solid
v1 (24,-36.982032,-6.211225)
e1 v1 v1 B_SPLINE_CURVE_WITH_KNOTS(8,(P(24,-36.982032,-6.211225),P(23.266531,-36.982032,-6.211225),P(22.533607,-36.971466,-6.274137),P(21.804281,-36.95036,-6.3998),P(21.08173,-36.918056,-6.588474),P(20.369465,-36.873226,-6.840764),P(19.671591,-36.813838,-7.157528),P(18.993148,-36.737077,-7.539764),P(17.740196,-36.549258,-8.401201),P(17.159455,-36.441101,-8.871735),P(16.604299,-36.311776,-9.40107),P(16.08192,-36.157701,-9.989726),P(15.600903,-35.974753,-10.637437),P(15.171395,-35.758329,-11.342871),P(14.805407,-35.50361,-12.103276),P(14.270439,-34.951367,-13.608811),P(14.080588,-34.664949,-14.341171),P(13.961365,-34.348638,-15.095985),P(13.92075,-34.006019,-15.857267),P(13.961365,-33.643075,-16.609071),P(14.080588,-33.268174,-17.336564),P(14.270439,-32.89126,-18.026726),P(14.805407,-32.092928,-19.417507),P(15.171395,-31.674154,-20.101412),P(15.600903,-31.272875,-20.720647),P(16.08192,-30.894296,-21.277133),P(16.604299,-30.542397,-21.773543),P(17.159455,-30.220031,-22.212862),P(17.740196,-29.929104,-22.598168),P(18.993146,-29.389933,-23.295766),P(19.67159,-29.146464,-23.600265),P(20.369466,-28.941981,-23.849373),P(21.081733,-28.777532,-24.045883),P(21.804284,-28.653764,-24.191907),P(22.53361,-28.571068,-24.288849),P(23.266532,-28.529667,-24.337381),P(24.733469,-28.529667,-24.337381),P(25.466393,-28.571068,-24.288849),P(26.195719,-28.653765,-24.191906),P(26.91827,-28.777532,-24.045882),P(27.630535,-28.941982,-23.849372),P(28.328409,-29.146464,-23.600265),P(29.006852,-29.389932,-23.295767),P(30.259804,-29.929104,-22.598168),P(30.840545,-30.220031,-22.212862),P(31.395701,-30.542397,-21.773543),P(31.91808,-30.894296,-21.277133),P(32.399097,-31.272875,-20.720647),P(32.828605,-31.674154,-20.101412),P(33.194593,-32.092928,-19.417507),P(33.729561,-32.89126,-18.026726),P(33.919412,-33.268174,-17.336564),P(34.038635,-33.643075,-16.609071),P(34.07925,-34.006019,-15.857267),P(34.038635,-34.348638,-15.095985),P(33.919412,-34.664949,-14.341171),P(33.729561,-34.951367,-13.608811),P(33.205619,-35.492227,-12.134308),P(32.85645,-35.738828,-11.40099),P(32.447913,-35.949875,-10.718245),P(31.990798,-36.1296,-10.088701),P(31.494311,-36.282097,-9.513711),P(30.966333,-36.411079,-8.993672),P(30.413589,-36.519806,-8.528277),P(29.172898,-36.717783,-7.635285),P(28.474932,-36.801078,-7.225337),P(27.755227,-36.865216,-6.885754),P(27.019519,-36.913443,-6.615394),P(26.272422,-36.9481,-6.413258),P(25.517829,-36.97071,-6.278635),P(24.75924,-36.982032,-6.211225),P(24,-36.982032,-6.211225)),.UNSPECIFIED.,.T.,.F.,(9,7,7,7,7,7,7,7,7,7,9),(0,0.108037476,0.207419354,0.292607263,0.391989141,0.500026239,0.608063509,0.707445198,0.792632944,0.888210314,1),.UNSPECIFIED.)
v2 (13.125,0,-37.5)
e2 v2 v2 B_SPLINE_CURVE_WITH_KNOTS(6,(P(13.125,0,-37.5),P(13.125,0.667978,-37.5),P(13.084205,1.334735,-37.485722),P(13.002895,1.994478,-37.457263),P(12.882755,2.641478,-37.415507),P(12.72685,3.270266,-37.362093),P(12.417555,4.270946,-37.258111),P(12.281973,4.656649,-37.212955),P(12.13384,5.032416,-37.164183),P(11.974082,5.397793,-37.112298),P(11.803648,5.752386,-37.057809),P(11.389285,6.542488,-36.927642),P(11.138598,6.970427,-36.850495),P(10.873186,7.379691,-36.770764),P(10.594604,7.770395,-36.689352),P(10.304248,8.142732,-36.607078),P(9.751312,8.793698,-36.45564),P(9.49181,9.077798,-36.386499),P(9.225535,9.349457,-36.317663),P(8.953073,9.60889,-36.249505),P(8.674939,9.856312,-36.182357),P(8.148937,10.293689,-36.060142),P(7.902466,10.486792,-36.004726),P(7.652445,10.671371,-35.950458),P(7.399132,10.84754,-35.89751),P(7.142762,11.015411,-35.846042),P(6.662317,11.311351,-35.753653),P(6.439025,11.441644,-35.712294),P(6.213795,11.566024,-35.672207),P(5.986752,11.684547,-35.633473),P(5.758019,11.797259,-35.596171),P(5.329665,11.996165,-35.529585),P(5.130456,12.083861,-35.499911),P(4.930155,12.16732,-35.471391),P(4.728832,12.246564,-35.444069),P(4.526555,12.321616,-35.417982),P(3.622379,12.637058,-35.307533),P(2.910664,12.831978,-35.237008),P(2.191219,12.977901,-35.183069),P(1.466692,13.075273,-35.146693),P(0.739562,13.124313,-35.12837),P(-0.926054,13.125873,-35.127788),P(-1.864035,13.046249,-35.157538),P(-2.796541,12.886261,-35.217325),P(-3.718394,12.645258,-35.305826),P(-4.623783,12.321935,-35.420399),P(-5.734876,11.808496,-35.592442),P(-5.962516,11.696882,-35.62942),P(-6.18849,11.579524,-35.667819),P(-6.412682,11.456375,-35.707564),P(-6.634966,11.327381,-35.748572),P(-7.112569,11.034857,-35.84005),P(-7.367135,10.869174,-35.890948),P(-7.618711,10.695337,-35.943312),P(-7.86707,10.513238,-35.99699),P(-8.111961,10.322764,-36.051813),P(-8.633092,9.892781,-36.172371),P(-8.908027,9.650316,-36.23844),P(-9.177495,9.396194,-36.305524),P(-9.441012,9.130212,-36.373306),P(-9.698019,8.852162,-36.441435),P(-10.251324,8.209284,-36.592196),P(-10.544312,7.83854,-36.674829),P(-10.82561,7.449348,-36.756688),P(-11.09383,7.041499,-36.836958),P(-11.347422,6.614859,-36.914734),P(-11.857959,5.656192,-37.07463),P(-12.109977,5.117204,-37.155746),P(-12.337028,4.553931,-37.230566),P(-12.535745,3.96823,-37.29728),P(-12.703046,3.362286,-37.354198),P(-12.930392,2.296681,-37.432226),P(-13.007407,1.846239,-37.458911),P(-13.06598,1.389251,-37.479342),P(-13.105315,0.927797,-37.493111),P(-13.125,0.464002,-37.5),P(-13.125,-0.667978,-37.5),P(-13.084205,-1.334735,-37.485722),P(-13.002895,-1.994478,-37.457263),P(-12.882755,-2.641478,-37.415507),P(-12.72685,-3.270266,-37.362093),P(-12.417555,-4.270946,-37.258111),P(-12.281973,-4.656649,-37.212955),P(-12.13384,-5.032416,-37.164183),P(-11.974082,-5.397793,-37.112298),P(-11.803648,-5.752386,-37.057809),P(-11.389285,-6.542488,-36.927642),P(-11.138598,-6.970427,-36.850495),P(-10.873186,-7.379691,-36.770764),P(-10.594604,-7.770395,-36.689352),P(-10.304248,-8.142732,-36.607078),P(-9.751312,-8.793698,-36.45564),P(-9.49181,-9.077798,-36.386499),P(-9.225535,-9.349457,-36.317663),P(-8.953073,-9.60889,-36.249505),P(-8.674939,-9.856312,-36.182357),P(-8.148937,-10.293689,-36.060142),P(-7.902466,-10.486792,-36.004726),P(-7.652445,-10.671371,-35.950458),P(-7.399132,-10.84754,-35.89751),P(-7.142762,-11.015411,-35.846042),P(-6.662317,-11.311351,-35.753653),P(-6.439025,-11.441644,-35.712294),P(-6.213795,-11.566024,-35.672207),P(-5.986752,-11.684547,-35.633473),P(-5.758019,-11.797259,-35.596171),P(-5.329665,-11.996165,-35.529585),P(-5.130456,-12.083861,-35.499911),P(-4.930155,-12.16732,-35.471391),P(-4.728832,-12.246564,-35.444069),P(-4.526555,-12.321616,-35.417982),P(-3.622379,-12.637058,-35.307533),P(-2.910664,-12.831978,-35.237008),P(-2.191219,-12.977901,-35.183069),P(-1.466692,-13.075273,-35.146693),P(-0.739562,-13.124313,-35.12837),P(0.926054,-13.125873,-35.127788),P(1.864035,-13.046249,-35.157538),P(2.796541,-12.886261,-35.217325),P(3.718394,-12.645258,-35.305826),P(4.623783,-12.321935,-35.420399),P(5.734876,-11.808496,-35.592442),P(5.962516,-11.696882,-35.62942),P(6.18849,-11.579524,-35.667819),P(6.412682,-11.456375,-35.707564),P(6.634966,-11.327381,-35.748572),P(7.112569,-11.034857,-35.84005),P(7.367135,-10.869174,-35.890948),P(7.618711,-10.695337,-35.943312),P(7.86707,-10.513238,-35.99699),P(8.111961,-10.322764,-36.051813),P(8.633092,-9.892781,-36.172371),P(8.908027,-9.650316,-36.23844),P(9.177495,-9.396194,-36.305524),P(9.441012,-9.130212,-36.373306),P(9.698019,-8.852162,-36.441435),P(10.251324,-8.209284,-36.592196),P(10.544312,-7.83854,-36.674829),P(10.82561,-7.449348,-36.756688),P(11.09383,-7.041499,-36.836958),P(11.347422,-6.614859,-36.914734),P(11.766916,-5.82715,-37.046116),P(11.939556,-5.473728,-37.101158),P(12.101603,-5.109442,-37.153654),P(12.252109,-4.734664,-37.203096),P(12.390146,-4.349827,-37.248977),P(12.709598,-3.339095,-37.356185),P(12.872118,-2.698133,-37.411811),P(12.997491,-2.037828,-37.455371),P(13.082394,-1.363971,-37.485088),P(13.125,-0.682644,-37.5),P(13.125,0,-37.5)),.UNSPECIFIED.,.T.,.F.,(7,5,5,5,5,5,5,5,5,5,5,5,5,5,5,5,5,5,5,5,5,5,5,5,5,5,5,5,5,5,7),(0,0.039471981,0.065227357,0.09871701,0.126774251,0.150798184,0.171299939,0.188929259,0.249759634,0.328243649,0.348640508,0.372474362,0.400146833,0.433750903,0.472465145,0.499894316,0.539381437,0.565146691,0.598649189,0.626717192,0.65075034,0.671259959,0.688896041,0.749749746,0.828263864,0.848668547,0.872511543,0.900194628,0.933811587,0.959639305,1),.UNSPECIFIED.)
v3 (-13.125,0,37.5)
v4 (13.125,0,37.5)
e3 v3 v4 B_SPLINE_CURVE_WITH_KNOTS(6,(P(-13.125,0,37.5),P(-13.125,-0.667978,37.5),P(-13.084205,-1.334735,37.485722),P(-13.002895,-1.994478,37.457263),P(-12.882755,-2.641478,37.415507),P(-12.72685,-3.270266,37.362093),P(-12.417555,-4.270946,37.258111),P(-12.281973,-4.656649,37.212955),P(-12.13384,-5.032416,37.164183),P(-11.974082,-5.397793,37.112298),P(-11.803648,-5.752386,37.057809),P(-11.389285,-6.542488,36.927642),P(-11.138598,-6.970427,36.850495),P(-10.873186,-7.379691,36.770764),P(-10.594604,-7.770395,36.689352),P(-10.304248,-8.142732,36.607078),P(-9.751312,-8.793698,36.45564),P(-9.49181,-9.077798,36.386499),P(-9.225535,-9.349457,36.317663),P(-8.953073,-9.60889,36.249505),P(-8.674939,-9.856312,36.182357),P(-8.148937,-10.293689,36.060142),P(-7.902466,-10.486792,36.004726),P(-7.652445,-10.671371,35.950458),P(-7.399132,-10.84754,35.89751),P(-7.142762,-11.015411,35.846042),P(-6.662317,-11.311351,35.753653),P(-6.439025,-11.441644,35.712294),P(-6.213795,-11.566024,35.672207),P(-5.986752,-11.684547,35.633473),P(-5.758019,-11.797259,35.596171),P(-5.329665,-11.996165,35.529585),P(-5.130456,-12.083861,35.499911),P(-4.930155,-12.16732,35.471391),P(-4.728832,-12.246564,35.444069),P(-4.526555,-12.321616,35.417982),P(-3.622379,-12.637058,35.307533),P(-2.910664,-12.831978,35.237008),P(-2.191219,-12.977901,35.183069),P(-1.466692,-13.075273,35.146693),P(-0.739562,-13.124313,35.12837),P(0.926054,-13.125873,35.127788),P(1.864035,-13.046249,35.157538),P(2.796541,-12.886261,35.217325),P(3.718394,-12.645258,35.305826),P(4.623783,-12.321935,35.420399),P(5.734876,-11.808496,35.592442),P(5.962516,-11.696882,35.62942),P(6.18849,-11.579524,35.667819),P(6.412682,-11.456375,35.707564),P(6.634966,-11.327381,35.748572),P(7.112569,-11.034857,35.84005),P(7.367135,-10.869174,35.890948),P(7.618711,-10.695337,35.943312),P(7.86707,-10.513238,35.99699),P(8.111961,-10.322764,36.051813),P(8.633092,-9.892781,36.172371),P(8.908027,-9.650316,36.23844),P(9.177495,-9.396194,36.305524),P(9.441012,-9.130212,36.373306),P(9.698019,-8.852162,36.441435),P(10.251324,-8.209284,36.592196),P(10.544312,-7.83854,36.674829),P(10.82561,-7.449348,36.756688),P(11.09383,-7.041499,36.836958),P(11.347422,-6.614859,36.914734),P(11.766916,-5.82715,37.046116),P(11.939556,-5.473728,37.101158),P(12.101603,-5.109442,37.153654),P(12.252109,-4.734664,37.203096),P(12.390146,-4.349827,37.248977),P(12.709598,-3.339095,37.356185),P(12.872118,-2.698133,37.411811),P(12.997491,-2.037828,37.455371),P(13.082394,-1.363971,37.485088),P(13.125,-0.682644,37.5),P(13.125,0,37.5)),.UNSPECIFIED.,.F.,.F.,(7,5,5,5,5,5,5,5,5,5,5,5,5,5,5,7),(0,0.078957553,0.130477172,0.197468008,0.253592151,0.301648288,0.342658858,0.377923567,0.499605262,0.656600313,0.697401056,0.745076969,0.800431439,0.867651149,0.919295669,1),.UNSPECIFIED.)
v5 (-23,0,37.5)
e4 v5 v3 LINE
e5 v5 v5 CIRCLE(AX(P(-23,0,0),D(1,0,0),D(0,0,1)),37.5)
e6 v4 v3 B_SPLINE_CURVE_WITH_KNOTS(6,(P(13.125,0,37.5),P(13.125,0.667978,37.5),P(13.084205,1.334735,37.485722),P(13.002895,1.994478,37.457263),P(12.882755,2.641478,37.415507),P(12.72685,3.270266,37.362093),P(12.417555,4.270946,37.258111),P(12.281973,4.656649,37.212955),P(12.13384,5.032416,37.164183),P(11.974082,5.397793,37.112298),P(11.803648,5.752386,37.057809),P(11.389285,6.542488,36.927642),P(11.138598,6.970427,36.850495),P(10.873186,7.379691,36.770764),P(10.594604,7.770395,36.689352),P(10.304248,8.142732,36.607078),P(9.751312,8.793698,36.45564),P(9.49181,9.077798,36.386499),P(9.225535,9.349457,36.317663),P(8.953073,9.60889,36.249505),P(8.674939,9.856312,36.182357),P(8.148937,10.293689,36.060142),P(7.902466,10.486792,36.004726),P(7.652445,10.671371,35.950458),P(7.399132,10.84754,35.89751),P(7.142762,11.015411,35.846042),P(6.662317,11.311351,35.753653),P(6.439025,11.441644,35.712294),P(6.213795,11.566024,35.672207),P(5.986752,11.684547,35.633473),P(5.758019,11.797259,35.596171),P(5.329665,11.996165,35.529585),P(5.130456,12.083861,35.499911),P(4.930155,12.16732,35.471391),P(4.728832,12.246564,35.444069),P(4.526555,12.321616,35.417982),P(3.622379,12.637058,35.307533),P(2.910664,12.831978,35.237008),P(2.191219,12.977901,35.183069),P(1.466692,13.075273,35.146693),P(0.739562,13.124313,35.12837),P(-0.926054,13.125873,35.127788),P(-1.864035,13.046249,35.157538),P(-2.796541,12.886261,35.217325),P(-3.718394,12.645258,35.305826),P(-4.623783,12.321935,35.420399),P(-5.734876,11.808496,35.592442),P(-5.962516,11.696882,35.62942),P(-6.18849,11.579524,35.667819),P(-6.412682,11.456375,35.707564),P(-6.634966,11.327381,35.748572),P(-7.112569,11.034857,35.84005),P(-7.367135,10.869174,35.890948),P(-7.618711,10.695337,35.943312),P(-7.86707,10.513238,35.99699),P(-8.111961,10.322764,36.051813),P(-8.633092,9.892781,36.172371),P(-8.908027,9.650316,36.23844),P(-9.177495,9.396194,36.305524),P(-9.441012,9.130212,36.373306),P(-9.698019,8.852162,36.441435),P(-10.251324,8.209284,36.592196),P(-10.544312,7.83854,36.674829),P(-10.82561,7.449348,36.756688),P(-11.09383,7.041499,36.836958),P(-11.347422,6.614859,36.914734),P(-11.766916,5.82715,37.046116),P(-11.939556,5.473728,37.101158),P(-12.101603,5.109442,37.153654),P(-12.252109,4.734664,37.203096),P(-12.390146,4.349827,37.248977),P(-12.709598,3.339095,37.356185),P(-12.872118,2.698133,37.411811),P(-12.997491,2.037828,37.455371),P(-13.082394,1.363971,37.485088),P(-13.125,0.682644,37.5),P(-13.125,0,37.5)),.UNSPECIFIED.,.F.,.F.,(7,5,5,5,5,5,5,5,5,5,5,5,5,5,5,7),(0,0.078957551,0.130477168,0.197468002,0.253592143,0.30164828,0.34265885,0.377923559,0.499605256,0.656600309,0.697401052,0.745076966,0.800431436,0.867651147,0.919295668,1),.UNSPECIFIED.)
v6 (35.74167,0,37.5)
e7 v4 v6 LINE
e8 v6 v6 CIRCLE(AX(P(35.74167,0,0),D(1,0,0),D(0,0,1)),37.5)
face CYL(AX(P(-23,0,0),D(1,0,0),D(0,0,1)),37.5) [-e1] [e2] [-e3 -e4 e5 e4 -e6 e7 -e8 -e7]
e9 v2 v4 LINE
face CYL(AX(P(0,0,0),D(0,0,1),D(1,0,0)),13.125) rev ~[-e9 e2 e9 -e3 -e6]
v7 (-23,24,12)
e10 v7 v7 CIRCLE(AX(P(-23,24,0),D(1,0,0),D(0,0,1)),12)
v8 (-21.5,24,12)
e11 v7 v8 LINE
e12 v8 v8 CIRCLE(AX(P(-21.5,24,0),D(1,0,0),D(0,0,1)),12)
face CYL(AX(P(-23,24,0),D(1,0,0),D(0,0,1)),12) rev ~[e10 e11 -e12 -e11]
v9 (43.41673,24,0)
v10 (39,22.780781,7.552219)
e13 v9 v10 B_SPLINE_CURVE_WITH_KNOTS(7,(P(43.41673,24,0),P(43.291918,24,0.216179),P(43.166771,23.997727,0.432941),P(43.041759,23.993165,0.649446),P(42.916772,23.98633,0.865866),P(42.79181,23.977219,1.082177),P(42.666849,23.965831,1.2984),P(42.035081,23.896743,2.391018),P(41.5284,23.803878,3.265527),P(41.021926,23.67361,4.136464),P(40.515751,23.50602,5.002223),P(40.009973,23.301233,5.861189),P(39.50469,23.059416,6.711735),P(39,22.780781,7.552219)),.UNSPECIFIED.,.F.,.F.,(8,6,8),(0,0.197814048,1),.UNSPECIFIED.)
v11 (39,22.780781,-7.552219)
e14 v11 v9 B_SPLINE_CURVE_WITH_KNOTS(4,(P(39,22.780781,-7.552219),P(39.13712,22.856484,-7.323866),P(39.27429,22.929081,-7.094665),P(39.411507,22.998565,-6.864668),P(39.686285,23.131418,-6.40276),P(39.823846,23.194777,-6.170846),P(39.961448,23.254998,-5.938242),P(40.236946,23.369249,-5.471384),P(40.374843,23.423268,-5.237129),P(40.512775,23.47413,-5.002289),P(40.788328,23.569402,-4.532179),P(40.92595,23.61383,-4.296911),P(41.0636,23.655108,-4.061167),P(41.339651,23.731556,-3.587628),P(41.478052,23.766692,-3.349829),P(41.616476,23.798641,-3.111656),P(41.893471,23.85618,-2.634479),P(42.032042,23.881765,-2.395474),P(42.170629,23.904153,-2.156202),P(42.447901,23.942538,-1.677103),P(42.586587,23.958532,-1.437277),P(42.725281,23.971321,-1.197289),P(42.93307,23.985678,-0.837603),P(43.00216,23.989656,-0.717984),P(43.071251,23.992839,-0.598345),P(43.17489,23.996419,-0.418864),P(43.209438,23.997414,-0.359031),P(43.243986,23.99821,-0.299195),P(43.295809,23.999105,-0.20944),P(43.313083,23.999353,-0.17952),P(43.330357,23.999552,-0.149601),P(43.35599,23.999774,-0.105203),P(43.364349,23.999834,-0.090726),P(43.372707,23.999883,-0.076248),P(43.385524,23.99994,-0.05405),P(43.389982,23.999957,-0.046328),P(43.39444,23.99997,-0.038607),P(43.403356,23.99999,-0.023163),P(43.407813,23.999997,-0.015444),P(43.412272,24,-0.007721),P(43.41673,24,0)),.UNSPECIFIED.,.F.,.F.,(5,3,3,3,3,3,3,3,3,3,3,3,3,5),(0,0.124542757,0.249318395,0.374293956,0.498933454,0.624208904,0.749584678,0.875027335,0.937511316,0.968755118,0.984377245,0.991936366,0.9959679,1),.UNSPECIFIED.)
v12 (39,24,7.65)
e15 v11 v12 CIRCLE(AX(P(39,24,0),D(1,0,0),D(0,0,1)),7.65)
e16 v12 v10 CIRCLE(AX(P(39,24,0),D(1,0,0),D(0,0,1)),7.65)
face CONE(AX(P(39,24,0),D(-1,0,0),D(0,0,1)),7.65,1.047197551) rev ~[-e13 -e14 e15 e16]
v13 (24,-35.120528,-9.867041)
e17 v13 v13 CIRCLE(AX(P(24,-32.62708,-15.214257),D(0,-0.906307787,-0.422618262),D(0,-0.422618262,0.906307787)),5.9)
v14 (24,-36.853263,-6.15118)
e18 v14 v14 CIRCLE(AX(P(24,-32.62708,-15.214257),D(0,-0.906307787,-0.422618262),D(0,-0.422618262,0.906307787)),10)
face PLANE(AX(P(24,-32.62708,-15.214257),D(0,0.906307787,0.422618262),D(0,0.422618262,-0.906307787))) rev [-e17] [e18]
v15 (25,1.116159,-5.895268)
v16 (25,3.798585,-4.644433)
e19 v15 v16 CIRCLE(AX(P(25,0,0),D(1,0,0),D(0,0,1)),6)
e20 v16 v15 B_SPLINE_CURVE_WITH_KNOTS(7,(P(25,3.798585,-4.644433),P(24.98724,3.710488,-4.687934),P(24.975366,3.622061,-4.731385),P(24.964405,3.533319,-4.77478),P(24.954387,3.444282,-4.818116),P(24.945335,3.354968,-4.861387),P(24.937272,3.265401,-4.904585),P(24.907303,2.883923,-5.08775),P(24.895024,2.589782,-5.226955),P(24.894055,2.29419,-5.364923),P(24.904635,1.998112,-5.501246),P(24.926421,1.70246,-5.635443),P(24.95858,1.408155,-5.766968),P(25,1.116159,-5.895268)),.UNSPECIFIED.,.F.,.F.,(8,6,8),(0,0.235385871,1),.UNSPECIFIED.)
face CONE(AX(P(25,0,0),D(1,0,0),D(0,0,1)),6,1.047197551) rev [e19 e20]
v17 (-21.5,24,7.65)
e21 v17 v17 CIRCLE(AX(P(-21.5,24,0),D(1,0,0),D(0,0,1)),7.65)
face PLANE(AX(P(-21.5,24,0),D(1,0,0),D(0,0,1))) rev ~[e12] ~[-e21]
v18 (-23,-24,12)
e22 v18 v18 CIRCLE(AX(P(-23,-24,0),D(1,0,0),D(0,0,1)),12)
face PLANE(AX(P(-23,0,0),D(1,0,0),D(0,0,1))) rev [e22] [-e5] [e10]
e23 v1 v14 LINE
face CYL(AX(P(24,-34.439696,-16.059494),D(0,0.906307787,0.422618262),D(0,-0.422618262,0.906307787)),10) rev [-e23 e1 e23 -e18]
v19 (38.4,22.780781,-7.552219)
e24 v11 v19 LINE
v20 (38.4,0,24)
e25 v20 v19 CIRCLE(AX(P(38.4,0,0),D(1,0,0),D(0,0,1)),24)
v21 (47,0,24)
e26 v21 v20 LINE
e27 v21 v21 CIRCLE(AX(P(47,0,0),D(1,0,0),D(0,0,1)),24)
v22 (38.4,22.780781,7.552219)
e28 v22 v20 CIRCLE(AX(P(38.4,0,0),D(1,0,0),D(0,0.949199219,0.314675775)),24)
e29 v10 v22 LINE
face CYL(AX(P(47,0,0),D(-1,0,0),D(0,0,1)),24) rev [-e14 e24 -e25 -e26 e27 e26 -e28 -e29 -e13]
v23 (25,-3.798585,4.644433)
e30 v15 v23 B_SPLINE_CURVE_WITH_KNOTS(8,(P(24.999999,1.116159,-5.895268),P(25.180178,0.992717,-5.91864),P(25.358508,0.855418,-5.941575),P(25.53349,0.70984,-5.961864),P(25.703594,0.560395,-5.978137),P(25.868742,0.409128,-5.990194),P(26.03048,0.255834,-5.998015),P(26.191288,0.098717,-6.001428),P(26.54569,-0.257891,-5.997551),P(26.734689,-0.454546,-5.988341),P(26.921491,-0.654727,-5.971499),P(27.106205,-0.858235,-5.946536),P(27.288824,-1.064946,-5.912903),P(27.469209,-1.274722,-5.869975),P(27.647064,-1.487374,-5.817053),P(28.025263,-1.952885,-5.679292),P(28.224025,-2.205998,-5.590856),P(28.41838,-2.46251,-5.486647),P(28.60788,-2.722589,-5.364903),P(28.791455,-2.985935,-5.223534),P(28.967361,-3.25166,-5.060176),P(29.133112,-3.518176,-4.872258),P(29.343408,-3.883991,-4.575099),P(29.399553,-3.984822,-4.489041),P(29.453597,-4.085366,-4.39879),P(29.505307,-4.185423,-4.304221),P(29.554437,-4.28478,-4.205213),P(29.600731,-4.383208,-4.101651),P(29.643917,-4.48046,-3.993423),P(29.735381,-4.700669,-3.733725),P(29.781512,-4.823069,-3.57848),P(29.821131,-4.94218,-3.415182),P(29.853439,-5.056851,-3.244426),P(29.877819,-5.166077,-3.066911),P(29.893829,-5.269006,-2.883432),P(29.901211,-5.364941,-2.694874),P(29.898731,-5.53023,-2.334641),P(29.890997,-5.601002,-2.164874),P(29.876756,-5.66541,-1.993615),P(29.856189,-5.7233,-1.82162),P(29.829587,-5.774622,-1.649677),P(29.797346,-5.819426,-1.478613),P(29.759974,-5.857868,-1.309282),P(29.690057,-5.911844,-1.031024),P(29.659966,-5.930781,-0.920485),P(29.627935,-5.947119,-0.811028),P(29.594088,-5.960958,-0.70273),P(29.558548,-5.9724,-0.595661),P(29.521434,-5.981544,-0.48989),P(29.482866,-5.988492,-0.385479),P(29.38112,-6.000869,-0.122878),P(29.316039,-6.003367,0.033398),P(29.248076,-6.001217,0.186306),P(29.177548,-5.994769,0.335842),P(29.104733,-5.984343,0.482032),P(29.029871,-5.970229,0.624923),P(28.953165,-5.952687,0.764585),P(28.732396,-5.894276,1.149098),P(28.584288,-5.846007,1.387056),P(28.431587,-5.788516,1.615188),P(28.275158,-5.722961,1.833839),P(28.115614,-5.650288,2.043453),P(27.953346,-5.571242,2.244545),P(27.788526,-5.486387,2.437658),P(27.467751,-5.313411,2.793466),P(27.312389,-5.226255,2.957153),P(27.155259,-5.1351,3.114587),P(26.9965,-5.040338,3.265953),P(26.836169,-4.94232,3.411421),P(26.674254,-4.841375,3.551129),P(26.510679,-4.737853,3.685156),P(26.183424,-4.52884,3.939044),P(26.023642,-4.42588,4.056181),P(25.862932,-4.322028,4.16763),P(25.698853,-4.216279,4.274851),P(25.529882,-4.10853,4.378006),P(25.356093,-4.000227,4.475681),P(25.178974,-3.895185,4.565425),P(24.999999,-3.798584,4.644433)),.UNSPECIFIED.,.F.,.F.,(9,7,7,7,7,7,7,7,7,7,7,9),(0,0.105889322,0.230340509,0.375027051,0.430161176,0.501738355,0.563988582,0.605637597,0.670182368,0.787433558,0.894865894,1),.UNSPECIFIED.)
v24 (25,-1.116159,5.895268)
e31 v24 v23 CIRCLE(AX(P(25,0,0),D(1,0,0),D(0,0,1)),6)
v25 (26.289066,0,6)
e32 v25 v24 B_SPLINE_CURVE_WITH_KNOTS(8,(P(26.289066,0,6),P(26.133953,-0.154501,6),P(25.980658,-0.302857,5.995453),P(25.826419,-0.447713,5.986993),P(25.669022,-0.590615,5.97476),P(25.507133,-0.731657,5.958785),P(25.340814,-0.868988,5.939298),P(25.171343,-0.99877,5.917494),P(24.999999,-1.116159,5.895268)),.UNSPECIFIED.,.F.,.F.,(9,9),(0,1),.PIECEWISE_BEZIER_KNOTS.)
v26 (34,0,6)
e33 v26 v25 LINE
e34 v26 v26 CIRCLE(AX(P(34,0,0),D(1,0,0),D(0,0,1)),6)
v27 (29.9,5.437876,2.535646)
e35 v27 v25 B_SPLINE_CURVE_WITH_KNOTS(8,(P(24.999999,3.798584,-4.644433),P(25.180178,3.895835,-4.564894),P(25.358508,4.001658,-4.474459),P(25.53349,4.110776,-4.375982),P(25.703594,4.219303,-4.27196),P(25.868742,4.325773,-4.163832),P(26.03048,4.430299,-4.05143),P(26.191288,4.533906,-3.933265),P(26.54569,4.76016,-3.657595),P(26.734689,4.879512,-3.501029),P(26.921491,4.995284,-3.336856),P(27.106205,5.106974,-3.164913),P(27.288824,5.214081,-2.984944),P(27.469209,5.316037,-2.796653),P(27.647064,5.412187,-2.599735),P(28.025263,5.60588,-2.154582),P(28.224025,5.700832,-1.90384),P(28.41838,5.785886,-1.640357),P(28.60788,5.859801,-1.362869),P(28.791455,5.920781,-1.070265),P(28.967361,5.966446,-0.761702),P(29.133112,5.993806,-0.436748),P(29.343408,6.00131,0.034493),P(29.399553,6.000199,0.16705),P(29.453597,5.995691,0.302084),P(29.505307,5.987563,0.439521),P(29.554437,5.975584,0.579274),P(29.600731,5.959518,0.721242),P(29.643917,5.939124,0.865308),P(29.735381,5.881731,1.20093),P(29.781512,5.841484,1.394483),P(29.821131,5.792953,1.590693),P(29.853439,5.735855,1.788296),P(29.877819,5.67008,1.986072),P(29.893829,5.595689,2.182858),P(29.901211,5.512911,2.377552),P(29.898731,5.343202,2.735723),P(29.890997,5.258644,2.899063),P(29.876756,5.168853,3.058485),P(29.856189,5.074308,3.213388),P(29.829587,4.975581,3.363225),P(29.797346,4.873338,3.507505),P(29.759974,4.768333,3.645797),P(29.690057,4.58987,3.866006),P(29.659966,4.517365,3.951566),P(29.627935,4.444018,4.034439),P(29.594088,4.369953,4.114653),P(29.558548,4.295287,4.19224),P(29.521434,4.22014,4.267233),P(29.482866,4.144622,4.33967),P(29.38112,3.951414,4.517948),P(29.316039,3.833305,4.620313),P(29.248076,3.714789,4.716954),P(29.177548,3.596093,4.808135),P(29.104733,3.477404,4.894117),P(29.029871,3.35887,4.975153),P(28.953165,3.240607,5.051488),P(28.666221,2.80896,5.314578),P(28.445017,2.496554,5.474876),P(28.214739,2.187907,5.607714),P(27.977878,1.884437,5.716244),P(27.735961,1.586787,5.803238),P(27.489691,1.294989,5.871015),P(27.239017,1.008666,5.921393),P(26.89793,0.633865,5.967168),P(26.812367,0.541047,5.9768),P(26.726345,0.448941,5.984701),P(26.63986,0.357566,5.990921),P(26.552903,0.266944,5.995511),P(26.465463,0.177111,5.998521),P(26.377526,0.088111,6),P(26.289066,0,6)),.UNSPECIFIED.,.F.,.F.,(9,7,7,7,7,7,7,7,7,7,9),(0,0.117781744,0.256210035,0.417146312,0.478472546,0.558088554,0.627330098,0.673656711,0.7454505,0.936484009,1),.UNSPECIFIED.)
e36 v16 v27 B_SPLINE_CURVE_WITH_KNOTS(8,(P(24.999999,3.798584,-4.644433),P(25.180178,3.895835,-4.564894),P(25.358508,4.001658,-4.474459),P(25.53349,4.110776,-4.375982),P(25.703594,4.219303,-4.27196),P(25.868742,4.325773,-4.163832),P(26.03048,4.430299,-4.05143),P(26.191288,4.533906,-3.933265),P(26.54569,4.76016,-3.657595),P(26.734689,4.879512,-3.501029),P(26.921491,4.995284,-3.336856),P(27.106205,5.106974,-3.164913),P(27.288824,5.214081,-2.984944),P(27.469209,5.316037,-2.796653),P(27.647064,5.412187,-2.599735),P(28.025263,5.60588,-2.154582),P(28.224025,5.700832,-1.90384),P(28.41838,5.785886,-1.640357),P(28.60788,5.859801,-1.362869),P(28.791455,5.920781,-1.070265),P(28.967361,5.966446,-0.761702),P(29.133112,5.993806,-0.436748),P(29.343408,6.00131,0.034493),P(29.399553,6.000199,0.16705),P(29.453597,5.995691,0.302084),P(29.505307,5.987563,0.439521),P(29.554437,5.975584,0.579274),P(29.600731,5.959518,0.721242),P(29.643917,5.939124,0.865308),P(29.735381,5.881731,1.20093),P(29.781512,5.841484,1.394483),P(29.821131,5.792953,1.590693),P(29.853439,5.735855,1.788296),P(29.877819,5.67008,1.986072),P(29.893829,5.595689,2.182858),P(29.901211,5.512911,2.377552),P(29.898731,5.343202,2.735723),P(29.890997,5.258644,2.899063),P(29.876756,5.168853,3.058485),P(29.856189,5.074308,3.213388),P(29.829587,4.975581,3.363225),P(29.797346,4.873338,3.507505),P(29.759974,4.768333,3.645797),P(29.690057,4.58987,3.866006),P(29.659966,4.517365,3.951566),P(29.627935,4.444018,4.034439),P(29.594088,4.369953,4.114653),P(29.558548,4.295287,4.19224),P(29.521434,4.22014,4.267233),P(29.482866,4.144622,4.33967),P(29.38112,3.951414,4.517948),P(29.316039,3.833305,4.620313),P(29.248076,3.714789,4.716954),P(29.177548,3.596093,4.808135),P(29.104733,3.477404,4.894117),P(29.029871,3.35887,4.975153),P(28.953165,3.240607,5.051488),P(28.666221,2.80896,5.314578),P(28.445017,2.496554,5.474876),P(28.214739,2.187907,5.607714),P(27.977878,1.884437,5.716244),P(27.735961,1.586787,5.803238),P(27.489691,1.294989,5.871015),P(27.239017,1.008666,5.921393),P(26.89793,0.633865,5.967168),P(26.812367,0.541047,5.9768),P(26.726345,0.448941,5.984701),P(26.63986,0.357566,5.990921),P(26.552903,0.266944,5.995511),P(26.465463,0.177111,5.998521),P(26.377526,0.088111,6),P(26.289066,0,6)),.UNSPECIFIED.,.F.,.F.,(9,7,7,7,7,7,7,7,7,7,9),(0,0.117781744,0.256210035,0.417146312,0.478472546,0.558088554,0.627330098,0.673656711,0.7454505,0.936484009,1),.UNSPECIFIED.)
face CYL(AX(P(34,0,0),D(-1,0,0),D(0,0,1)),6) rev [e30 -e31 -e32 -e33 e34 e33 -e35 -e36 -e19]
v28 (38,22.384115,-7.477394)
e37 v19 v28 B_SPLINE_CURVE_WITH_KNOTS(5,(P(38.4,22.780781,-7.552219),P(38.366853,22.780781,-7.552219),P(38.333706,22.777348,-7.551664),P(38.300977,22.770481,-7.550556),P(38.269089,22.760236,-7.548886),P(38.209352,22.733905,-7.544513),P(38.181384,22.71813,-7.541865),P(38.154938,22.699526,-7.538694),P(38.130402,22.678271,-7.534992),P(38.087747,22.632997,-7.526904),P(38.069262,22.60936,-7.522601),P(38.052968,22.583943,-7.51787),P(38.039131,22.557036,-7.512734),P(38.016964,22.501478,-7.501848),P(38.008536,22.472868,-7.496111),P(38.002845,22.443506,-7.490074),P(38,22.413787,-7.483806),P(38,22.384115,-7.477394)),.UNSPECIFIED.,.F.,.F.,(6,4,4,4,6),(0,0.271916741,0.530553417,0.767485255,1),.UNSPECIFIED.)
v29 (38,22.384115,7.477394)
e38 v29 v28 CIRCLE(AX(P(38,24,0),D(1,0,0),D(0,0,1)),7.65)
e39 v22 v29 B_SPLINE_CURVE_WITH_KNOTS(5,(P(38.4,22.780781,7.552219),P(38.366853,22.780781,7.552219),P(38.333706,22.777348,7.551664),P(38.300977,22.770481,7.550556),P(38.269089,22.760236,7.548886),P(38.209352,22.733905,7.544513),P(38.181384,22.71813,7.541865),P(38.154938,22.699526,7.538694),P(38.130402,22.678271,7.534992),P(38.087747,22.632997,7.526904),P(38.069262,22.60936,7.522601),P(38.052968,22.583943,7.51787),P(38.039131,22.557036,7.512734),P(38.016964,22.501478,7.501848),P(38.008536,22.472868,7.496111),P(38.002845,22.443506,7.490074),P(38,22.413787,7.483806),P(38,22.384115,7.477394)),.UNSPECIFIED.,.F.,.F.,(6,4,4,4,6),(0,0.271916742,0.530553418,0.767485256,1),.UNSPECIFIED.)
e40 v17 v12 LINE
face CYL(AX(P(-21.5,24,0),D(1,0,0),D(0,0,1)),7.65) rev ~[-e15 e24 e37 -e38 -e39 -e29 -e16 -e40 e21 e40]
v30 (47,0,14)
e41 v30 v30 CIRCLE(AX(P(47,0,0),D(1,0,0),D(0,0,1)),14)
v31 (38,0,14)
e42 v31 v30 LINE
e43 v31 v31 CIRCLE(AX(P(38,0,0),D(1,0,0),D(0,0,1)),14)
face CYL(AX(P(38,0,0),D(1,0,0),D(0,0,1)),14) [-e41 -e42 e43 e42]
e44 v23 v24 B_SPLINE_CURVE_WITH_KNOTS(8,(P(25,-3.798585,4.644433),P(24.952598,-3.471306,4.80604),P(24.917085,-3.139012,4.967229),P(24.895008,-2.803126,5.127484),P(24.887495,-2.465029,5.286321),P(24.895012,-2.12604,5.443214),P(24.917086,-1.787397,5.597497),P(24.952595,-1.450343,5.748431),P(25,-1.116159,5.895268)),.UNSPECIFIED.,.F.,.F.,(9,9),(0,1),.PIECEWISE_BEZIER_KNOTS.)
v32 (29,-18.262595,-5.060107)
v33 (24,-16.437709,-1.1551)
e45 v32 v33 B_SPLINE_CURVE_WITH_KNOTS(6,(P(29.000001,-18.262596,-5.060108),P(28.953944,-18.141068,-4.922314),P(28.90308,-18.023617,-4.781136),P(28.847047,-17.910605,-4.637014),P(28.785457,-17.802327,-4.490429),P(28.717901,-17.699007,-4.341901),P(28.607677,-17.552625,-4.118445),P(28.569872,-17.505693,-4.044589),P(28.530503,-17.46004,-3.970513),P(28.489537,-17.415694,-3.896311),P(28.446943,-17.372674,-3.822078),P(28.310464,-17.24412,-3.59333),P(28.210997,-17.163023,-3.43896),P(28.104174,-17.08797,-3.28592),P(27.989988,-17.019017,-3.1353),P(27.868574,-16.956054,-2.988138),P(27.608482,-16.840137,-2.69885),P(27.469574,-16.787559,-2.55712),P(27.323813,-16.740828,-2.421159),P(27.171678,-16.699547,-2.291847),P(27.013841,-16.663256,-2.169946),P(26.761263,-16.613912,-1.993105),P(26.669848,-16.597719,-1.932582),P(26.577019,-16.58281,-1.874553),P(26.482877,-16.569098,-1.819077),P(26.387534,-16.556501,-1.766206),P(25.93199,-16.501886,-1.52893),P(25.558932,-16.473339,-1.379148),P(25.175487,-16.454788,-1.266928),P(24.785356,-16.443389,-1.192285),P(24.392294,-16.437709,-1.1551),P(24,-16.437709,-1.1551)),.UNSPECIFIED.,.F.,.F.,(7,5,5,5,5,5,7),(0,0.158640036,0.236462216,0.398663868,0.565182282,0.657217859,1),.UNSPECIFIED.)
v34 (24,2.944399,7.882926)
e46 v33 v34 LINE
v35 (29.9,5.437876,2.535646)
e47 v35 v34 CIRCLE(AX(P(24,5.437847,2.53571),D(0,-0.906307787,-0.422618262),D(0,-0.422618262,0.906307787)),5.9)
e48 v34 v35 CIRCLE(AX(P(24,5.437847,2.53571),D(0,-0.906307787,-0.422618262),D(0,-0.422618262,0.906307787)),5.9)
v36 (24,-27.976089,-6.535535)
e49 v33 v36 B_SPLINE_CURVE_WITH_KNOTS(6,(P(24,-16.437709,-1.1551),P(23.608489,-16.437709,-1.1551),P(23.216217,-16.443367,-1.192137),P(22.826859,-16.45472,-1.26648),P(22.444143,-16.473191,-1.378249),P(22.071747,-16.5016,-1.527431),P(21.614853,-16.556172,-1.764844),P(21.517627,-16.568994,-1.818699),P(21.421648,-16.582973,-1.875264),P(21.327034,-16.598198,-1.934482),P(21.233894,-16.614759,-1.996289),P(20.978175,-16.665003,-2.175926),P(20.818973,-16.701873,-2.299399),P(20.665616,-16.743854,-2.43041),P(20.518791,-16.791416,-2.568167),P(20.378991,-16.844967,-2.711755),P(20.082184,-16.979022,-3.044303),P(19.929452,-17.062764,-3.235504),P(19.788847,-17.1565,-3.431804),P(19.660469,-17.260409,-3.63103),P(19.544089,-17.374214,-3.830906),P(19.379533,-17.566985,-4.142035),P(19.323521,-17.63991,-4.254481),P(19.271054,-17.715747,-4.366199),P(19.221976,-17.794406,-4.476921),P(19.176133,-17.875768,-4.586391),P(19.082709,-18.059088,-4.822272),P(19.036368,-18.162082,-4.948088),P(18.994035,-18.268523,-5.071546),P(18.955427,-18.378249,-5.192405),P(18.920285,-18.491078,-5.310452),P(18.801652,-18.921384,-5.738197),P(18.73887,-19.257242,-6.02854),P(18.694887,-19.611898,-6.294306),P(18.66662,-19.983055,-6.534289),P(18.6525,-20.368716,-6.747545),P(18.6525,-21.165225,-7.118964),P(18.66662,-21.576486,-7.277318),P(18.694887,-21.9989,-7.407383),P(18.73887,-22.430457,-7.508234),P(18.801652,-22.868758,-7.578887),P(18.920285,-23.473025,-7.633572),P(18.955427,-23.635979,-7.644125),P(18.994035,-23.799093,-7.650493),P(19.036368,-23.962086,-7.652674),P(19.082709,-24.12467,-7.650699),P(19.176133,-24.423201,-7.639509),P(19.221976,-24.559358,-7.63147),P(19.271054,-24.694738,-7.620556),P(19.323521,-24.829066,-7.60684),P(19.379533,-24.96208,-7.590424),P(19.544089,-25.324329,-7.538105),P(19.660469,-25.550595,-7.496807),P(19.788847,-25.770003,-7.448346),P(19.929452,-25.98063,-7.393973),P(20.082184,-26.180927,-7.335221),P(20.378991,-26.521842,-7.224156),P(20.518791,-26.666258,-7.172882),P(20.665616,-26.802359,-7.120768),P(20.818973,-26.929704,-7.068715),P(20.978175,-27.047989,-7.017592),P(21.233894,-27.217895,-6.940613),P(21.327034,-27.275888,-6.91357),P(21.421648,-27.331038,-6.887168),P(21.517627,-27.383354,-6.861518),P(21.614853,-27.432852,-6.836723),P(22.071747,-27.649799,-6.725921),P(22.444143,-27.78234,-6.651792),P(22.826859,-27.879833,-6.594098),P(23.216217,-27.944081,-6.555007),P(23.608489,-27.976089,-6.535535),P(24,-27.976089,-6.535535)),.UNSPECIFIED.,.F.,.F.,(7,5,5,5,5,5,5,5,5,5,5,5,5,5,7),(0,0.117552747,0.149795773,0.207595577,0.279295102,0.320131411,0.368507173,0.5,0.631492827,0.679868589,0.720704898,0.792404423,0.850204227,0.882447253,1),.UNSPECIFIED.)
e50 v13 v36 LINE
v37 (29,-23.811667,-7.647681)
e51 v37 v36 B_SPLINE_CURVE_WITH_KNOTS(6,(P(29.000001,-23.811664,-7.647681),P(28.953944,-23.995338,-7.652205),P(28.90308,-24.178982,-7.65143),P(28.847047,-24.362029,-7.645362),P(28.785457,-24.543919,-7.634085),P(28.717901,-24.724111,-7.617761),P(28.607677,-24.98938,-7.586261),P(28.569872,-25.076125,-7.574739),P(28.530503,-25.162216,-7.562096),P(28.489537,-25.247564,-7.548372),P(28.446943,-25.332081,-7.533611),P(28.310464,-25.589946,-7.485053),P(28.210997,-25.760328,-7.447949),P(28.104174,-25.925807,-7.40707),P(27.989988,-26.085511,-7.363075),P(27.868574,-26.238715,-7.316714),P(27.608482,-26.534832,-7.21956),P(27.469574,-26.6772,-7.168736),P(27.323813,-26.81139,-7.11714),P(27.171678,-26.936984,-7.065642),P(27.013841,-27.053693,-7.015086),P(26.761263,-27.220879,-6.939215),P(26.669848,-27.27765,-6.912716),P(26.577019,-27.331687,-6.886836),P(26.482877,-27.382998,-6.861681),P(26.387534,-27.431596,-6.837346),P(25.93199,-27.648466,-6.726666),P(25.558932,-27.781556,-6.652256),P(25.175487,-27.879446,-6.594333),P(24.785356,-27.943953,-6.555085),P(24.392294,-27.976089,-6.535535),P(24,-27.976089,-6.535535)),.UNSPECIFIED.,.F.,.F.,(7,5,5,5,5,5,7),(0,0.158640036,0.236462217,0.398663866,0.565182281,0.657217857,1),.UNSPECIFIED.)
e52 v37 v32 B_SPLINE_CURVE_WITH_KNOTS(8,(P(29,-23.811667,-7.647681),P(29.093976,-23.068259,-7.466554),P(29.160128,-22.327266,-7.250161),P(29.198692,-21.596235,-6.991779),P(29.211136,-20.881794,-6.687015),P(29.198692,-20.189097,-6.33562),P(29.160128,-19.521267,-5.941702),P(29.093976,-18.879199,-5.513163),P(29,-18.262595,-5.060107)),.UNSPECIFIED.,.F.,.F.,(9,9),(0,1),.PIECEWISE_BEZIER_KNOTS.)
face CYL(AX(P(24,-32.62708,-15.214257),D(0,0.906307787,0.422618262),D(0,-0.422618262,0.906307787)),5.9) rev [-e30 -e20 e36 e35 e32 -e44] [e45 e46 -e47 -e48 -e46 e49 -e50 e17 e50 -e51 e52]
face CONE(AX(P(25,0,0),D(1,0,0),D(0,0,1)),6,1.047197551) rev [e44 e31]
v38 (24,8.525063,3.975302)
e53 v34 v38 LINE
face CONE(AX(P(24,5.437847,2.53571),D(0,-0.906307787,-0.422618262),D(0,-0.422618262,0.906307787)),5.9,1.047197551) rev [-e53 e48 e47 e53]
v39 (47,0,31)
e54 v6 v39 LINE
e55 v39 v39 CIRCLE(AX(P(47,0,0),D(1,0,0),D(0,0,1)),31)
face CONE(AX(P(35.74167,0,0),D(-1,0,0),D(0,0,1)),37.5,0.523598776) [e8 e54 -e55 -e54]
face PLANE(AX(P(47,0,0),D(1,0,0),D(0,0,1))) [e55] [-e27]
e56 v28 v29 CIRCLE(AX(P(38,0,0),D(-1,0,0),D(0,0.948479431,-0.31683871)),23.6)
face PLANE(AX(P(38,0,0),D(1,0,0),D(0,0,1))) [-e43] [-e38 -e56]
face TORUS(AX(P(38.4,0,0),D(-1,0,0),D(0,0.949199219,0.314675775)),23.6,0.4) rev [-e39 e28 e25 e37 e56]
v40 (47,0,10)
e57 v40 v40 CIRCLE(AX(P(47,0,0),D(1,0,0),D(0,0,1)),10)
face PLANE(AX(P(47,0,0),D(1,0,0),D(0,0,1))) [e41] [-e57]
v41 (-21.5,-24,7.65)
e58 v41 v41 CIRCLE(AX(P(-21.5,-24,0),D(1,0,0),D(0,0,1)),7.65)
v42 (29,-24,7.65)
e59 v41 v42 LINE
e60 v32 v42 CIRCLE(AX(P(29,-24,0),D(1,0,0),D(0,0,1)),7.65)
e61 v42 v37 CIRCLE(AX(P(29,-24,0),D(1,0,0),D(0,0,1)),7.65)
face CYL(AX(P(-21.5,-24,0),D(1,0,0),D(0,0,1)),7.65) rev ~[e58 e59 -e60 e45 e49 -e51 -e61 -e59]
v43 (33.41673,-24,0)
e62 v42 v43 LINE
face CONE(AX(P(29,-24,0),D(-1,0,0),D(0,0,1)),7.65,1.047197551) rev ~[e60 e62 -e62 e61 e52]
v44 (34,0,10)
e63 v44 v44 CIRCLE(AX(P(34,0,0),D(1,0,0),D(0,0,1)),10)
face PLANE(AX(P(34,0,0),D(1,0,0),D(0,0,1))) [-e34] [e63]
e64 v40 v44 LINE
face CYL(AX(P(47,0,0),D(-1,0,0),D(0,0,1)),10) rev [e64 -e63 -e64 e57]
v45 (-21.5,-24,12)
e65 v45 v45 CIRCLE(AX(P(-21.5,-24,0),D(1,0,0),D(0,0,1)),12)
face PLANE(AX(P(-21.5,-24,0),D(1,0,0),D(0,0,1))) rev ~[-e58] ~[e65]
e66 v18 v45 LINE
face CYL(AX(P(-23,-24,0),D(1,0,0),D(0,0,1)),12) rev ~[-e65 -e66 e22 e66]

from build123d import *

# Parameters (mm, degrees)
SKETCH4_R          = 13.125
CUT_EXTRUDE1_DEPTH = 45
FILLET1_R          = 0.4


with BuildPart() as part:
    # Sketch1 → Base-Revolve (revolve)
    with BuildSketch(Plane.XY, mode=Mode.PRIVATE) as base_revolve_sk:
        Polygon((-23, 0), (-23, 37.5), (35.741669751, 37.5), (47, 31), (47, 24), (38, 24), (38, 14), (47, 14), (47, 10), (34, 10), (34, 6), (25, 6), (21.535898385, 0), align=None)
    revolve(base_revolve_sk.sketch.rotate(Axis((-65.592135762, 0, 0), (1, 0, 0)), 90), axis=Axis((-65.592135762, 0, 0), (1, 0, 0)))

    # Sketch2 → Cut-Revolve1 (revolve, cut)
    with BuildSketch(Plane.XY, mode=Mode.PRIVATE) as cut_revolve1_sk:
        Polygon((-23, 36), (-21.5, 36), (-21.5, 31.65), (39, 31.65), (43.416729559, 24), (-23, 24), align=None)
    revolve(cut_revolve1_sk.sketch.rotate(Axis((-29.427152318, 24, 0), (1, 0, 0)), 90), axis=Axis((-29.427152318, 24, 0), (1, 0, 0)), mode=Mode.SUBTRACT)

    # Sketch3 → Cut-Revolve2 (revolve, cut)
    with BuildSketch(Plane.XY, mode=Mode.PRIVATE) as cut_revolve2_sk:
        Polygon((-23, -36), (-21.5, -36), (-21.5, -31.65), (29, -31.65), (33.416729559, -24), (-23, -24), align=None)
    revolve(cut_revolve2_sk.sketch.rotate(Axis((-27.440397351, -24, 0), (1, 0, 0)), 270), axis=Axis((-27.440397351, -24, 0), (1, 0, 0)), mode=Mode.SUBTRACT)

    # Sketch4 → Cut-Extrude1 (cut, symmetric)
    with BuildSketch(Plane.XY):
        Circle(SKETCH4_R)
    extrude(amount=CUT_EXTRUDE1_DEPTH, both=True, mode=Mode.SUBTRACT)

    # Sketch5 → Cut-Revolve3 (revolve, cut)
    with BuildSketch(Plane(origin=(24, 0, 0), x_dir=(0, 0, -1), z_dir=(1, 0, 0)), mode=Mode.PRIVATE) as cut_revolve3_sk:
        Polygon((16.059493946, -34.439695907), (25.122571817, -30.21351329), (24.277335293, -28.400897716), (20.561473366, -30.133632589), (2.811506373, 7.931294466), (-3.975302297, 8.525063287), align=None)
    revolve(cut_revolve3_sk.sketch.rotate(Axis((24, 0, 0), (0, -0.9063077870366493, -0.422618261740701)), 180), axis=Axis((24, 0, 0), (0, -0.9063077870366493, -0.422618261740701)), mode=Mode.SUBTRACT)

    # Fillet1
    fillet1_edges = [part.edges().sort_by_distance(p)[0] for p in [
        (38, -19.458330429, -14.048963553),
    ]]
    fillet(fillet1_edges, radius=FILLET1_R)


solid = part.part
